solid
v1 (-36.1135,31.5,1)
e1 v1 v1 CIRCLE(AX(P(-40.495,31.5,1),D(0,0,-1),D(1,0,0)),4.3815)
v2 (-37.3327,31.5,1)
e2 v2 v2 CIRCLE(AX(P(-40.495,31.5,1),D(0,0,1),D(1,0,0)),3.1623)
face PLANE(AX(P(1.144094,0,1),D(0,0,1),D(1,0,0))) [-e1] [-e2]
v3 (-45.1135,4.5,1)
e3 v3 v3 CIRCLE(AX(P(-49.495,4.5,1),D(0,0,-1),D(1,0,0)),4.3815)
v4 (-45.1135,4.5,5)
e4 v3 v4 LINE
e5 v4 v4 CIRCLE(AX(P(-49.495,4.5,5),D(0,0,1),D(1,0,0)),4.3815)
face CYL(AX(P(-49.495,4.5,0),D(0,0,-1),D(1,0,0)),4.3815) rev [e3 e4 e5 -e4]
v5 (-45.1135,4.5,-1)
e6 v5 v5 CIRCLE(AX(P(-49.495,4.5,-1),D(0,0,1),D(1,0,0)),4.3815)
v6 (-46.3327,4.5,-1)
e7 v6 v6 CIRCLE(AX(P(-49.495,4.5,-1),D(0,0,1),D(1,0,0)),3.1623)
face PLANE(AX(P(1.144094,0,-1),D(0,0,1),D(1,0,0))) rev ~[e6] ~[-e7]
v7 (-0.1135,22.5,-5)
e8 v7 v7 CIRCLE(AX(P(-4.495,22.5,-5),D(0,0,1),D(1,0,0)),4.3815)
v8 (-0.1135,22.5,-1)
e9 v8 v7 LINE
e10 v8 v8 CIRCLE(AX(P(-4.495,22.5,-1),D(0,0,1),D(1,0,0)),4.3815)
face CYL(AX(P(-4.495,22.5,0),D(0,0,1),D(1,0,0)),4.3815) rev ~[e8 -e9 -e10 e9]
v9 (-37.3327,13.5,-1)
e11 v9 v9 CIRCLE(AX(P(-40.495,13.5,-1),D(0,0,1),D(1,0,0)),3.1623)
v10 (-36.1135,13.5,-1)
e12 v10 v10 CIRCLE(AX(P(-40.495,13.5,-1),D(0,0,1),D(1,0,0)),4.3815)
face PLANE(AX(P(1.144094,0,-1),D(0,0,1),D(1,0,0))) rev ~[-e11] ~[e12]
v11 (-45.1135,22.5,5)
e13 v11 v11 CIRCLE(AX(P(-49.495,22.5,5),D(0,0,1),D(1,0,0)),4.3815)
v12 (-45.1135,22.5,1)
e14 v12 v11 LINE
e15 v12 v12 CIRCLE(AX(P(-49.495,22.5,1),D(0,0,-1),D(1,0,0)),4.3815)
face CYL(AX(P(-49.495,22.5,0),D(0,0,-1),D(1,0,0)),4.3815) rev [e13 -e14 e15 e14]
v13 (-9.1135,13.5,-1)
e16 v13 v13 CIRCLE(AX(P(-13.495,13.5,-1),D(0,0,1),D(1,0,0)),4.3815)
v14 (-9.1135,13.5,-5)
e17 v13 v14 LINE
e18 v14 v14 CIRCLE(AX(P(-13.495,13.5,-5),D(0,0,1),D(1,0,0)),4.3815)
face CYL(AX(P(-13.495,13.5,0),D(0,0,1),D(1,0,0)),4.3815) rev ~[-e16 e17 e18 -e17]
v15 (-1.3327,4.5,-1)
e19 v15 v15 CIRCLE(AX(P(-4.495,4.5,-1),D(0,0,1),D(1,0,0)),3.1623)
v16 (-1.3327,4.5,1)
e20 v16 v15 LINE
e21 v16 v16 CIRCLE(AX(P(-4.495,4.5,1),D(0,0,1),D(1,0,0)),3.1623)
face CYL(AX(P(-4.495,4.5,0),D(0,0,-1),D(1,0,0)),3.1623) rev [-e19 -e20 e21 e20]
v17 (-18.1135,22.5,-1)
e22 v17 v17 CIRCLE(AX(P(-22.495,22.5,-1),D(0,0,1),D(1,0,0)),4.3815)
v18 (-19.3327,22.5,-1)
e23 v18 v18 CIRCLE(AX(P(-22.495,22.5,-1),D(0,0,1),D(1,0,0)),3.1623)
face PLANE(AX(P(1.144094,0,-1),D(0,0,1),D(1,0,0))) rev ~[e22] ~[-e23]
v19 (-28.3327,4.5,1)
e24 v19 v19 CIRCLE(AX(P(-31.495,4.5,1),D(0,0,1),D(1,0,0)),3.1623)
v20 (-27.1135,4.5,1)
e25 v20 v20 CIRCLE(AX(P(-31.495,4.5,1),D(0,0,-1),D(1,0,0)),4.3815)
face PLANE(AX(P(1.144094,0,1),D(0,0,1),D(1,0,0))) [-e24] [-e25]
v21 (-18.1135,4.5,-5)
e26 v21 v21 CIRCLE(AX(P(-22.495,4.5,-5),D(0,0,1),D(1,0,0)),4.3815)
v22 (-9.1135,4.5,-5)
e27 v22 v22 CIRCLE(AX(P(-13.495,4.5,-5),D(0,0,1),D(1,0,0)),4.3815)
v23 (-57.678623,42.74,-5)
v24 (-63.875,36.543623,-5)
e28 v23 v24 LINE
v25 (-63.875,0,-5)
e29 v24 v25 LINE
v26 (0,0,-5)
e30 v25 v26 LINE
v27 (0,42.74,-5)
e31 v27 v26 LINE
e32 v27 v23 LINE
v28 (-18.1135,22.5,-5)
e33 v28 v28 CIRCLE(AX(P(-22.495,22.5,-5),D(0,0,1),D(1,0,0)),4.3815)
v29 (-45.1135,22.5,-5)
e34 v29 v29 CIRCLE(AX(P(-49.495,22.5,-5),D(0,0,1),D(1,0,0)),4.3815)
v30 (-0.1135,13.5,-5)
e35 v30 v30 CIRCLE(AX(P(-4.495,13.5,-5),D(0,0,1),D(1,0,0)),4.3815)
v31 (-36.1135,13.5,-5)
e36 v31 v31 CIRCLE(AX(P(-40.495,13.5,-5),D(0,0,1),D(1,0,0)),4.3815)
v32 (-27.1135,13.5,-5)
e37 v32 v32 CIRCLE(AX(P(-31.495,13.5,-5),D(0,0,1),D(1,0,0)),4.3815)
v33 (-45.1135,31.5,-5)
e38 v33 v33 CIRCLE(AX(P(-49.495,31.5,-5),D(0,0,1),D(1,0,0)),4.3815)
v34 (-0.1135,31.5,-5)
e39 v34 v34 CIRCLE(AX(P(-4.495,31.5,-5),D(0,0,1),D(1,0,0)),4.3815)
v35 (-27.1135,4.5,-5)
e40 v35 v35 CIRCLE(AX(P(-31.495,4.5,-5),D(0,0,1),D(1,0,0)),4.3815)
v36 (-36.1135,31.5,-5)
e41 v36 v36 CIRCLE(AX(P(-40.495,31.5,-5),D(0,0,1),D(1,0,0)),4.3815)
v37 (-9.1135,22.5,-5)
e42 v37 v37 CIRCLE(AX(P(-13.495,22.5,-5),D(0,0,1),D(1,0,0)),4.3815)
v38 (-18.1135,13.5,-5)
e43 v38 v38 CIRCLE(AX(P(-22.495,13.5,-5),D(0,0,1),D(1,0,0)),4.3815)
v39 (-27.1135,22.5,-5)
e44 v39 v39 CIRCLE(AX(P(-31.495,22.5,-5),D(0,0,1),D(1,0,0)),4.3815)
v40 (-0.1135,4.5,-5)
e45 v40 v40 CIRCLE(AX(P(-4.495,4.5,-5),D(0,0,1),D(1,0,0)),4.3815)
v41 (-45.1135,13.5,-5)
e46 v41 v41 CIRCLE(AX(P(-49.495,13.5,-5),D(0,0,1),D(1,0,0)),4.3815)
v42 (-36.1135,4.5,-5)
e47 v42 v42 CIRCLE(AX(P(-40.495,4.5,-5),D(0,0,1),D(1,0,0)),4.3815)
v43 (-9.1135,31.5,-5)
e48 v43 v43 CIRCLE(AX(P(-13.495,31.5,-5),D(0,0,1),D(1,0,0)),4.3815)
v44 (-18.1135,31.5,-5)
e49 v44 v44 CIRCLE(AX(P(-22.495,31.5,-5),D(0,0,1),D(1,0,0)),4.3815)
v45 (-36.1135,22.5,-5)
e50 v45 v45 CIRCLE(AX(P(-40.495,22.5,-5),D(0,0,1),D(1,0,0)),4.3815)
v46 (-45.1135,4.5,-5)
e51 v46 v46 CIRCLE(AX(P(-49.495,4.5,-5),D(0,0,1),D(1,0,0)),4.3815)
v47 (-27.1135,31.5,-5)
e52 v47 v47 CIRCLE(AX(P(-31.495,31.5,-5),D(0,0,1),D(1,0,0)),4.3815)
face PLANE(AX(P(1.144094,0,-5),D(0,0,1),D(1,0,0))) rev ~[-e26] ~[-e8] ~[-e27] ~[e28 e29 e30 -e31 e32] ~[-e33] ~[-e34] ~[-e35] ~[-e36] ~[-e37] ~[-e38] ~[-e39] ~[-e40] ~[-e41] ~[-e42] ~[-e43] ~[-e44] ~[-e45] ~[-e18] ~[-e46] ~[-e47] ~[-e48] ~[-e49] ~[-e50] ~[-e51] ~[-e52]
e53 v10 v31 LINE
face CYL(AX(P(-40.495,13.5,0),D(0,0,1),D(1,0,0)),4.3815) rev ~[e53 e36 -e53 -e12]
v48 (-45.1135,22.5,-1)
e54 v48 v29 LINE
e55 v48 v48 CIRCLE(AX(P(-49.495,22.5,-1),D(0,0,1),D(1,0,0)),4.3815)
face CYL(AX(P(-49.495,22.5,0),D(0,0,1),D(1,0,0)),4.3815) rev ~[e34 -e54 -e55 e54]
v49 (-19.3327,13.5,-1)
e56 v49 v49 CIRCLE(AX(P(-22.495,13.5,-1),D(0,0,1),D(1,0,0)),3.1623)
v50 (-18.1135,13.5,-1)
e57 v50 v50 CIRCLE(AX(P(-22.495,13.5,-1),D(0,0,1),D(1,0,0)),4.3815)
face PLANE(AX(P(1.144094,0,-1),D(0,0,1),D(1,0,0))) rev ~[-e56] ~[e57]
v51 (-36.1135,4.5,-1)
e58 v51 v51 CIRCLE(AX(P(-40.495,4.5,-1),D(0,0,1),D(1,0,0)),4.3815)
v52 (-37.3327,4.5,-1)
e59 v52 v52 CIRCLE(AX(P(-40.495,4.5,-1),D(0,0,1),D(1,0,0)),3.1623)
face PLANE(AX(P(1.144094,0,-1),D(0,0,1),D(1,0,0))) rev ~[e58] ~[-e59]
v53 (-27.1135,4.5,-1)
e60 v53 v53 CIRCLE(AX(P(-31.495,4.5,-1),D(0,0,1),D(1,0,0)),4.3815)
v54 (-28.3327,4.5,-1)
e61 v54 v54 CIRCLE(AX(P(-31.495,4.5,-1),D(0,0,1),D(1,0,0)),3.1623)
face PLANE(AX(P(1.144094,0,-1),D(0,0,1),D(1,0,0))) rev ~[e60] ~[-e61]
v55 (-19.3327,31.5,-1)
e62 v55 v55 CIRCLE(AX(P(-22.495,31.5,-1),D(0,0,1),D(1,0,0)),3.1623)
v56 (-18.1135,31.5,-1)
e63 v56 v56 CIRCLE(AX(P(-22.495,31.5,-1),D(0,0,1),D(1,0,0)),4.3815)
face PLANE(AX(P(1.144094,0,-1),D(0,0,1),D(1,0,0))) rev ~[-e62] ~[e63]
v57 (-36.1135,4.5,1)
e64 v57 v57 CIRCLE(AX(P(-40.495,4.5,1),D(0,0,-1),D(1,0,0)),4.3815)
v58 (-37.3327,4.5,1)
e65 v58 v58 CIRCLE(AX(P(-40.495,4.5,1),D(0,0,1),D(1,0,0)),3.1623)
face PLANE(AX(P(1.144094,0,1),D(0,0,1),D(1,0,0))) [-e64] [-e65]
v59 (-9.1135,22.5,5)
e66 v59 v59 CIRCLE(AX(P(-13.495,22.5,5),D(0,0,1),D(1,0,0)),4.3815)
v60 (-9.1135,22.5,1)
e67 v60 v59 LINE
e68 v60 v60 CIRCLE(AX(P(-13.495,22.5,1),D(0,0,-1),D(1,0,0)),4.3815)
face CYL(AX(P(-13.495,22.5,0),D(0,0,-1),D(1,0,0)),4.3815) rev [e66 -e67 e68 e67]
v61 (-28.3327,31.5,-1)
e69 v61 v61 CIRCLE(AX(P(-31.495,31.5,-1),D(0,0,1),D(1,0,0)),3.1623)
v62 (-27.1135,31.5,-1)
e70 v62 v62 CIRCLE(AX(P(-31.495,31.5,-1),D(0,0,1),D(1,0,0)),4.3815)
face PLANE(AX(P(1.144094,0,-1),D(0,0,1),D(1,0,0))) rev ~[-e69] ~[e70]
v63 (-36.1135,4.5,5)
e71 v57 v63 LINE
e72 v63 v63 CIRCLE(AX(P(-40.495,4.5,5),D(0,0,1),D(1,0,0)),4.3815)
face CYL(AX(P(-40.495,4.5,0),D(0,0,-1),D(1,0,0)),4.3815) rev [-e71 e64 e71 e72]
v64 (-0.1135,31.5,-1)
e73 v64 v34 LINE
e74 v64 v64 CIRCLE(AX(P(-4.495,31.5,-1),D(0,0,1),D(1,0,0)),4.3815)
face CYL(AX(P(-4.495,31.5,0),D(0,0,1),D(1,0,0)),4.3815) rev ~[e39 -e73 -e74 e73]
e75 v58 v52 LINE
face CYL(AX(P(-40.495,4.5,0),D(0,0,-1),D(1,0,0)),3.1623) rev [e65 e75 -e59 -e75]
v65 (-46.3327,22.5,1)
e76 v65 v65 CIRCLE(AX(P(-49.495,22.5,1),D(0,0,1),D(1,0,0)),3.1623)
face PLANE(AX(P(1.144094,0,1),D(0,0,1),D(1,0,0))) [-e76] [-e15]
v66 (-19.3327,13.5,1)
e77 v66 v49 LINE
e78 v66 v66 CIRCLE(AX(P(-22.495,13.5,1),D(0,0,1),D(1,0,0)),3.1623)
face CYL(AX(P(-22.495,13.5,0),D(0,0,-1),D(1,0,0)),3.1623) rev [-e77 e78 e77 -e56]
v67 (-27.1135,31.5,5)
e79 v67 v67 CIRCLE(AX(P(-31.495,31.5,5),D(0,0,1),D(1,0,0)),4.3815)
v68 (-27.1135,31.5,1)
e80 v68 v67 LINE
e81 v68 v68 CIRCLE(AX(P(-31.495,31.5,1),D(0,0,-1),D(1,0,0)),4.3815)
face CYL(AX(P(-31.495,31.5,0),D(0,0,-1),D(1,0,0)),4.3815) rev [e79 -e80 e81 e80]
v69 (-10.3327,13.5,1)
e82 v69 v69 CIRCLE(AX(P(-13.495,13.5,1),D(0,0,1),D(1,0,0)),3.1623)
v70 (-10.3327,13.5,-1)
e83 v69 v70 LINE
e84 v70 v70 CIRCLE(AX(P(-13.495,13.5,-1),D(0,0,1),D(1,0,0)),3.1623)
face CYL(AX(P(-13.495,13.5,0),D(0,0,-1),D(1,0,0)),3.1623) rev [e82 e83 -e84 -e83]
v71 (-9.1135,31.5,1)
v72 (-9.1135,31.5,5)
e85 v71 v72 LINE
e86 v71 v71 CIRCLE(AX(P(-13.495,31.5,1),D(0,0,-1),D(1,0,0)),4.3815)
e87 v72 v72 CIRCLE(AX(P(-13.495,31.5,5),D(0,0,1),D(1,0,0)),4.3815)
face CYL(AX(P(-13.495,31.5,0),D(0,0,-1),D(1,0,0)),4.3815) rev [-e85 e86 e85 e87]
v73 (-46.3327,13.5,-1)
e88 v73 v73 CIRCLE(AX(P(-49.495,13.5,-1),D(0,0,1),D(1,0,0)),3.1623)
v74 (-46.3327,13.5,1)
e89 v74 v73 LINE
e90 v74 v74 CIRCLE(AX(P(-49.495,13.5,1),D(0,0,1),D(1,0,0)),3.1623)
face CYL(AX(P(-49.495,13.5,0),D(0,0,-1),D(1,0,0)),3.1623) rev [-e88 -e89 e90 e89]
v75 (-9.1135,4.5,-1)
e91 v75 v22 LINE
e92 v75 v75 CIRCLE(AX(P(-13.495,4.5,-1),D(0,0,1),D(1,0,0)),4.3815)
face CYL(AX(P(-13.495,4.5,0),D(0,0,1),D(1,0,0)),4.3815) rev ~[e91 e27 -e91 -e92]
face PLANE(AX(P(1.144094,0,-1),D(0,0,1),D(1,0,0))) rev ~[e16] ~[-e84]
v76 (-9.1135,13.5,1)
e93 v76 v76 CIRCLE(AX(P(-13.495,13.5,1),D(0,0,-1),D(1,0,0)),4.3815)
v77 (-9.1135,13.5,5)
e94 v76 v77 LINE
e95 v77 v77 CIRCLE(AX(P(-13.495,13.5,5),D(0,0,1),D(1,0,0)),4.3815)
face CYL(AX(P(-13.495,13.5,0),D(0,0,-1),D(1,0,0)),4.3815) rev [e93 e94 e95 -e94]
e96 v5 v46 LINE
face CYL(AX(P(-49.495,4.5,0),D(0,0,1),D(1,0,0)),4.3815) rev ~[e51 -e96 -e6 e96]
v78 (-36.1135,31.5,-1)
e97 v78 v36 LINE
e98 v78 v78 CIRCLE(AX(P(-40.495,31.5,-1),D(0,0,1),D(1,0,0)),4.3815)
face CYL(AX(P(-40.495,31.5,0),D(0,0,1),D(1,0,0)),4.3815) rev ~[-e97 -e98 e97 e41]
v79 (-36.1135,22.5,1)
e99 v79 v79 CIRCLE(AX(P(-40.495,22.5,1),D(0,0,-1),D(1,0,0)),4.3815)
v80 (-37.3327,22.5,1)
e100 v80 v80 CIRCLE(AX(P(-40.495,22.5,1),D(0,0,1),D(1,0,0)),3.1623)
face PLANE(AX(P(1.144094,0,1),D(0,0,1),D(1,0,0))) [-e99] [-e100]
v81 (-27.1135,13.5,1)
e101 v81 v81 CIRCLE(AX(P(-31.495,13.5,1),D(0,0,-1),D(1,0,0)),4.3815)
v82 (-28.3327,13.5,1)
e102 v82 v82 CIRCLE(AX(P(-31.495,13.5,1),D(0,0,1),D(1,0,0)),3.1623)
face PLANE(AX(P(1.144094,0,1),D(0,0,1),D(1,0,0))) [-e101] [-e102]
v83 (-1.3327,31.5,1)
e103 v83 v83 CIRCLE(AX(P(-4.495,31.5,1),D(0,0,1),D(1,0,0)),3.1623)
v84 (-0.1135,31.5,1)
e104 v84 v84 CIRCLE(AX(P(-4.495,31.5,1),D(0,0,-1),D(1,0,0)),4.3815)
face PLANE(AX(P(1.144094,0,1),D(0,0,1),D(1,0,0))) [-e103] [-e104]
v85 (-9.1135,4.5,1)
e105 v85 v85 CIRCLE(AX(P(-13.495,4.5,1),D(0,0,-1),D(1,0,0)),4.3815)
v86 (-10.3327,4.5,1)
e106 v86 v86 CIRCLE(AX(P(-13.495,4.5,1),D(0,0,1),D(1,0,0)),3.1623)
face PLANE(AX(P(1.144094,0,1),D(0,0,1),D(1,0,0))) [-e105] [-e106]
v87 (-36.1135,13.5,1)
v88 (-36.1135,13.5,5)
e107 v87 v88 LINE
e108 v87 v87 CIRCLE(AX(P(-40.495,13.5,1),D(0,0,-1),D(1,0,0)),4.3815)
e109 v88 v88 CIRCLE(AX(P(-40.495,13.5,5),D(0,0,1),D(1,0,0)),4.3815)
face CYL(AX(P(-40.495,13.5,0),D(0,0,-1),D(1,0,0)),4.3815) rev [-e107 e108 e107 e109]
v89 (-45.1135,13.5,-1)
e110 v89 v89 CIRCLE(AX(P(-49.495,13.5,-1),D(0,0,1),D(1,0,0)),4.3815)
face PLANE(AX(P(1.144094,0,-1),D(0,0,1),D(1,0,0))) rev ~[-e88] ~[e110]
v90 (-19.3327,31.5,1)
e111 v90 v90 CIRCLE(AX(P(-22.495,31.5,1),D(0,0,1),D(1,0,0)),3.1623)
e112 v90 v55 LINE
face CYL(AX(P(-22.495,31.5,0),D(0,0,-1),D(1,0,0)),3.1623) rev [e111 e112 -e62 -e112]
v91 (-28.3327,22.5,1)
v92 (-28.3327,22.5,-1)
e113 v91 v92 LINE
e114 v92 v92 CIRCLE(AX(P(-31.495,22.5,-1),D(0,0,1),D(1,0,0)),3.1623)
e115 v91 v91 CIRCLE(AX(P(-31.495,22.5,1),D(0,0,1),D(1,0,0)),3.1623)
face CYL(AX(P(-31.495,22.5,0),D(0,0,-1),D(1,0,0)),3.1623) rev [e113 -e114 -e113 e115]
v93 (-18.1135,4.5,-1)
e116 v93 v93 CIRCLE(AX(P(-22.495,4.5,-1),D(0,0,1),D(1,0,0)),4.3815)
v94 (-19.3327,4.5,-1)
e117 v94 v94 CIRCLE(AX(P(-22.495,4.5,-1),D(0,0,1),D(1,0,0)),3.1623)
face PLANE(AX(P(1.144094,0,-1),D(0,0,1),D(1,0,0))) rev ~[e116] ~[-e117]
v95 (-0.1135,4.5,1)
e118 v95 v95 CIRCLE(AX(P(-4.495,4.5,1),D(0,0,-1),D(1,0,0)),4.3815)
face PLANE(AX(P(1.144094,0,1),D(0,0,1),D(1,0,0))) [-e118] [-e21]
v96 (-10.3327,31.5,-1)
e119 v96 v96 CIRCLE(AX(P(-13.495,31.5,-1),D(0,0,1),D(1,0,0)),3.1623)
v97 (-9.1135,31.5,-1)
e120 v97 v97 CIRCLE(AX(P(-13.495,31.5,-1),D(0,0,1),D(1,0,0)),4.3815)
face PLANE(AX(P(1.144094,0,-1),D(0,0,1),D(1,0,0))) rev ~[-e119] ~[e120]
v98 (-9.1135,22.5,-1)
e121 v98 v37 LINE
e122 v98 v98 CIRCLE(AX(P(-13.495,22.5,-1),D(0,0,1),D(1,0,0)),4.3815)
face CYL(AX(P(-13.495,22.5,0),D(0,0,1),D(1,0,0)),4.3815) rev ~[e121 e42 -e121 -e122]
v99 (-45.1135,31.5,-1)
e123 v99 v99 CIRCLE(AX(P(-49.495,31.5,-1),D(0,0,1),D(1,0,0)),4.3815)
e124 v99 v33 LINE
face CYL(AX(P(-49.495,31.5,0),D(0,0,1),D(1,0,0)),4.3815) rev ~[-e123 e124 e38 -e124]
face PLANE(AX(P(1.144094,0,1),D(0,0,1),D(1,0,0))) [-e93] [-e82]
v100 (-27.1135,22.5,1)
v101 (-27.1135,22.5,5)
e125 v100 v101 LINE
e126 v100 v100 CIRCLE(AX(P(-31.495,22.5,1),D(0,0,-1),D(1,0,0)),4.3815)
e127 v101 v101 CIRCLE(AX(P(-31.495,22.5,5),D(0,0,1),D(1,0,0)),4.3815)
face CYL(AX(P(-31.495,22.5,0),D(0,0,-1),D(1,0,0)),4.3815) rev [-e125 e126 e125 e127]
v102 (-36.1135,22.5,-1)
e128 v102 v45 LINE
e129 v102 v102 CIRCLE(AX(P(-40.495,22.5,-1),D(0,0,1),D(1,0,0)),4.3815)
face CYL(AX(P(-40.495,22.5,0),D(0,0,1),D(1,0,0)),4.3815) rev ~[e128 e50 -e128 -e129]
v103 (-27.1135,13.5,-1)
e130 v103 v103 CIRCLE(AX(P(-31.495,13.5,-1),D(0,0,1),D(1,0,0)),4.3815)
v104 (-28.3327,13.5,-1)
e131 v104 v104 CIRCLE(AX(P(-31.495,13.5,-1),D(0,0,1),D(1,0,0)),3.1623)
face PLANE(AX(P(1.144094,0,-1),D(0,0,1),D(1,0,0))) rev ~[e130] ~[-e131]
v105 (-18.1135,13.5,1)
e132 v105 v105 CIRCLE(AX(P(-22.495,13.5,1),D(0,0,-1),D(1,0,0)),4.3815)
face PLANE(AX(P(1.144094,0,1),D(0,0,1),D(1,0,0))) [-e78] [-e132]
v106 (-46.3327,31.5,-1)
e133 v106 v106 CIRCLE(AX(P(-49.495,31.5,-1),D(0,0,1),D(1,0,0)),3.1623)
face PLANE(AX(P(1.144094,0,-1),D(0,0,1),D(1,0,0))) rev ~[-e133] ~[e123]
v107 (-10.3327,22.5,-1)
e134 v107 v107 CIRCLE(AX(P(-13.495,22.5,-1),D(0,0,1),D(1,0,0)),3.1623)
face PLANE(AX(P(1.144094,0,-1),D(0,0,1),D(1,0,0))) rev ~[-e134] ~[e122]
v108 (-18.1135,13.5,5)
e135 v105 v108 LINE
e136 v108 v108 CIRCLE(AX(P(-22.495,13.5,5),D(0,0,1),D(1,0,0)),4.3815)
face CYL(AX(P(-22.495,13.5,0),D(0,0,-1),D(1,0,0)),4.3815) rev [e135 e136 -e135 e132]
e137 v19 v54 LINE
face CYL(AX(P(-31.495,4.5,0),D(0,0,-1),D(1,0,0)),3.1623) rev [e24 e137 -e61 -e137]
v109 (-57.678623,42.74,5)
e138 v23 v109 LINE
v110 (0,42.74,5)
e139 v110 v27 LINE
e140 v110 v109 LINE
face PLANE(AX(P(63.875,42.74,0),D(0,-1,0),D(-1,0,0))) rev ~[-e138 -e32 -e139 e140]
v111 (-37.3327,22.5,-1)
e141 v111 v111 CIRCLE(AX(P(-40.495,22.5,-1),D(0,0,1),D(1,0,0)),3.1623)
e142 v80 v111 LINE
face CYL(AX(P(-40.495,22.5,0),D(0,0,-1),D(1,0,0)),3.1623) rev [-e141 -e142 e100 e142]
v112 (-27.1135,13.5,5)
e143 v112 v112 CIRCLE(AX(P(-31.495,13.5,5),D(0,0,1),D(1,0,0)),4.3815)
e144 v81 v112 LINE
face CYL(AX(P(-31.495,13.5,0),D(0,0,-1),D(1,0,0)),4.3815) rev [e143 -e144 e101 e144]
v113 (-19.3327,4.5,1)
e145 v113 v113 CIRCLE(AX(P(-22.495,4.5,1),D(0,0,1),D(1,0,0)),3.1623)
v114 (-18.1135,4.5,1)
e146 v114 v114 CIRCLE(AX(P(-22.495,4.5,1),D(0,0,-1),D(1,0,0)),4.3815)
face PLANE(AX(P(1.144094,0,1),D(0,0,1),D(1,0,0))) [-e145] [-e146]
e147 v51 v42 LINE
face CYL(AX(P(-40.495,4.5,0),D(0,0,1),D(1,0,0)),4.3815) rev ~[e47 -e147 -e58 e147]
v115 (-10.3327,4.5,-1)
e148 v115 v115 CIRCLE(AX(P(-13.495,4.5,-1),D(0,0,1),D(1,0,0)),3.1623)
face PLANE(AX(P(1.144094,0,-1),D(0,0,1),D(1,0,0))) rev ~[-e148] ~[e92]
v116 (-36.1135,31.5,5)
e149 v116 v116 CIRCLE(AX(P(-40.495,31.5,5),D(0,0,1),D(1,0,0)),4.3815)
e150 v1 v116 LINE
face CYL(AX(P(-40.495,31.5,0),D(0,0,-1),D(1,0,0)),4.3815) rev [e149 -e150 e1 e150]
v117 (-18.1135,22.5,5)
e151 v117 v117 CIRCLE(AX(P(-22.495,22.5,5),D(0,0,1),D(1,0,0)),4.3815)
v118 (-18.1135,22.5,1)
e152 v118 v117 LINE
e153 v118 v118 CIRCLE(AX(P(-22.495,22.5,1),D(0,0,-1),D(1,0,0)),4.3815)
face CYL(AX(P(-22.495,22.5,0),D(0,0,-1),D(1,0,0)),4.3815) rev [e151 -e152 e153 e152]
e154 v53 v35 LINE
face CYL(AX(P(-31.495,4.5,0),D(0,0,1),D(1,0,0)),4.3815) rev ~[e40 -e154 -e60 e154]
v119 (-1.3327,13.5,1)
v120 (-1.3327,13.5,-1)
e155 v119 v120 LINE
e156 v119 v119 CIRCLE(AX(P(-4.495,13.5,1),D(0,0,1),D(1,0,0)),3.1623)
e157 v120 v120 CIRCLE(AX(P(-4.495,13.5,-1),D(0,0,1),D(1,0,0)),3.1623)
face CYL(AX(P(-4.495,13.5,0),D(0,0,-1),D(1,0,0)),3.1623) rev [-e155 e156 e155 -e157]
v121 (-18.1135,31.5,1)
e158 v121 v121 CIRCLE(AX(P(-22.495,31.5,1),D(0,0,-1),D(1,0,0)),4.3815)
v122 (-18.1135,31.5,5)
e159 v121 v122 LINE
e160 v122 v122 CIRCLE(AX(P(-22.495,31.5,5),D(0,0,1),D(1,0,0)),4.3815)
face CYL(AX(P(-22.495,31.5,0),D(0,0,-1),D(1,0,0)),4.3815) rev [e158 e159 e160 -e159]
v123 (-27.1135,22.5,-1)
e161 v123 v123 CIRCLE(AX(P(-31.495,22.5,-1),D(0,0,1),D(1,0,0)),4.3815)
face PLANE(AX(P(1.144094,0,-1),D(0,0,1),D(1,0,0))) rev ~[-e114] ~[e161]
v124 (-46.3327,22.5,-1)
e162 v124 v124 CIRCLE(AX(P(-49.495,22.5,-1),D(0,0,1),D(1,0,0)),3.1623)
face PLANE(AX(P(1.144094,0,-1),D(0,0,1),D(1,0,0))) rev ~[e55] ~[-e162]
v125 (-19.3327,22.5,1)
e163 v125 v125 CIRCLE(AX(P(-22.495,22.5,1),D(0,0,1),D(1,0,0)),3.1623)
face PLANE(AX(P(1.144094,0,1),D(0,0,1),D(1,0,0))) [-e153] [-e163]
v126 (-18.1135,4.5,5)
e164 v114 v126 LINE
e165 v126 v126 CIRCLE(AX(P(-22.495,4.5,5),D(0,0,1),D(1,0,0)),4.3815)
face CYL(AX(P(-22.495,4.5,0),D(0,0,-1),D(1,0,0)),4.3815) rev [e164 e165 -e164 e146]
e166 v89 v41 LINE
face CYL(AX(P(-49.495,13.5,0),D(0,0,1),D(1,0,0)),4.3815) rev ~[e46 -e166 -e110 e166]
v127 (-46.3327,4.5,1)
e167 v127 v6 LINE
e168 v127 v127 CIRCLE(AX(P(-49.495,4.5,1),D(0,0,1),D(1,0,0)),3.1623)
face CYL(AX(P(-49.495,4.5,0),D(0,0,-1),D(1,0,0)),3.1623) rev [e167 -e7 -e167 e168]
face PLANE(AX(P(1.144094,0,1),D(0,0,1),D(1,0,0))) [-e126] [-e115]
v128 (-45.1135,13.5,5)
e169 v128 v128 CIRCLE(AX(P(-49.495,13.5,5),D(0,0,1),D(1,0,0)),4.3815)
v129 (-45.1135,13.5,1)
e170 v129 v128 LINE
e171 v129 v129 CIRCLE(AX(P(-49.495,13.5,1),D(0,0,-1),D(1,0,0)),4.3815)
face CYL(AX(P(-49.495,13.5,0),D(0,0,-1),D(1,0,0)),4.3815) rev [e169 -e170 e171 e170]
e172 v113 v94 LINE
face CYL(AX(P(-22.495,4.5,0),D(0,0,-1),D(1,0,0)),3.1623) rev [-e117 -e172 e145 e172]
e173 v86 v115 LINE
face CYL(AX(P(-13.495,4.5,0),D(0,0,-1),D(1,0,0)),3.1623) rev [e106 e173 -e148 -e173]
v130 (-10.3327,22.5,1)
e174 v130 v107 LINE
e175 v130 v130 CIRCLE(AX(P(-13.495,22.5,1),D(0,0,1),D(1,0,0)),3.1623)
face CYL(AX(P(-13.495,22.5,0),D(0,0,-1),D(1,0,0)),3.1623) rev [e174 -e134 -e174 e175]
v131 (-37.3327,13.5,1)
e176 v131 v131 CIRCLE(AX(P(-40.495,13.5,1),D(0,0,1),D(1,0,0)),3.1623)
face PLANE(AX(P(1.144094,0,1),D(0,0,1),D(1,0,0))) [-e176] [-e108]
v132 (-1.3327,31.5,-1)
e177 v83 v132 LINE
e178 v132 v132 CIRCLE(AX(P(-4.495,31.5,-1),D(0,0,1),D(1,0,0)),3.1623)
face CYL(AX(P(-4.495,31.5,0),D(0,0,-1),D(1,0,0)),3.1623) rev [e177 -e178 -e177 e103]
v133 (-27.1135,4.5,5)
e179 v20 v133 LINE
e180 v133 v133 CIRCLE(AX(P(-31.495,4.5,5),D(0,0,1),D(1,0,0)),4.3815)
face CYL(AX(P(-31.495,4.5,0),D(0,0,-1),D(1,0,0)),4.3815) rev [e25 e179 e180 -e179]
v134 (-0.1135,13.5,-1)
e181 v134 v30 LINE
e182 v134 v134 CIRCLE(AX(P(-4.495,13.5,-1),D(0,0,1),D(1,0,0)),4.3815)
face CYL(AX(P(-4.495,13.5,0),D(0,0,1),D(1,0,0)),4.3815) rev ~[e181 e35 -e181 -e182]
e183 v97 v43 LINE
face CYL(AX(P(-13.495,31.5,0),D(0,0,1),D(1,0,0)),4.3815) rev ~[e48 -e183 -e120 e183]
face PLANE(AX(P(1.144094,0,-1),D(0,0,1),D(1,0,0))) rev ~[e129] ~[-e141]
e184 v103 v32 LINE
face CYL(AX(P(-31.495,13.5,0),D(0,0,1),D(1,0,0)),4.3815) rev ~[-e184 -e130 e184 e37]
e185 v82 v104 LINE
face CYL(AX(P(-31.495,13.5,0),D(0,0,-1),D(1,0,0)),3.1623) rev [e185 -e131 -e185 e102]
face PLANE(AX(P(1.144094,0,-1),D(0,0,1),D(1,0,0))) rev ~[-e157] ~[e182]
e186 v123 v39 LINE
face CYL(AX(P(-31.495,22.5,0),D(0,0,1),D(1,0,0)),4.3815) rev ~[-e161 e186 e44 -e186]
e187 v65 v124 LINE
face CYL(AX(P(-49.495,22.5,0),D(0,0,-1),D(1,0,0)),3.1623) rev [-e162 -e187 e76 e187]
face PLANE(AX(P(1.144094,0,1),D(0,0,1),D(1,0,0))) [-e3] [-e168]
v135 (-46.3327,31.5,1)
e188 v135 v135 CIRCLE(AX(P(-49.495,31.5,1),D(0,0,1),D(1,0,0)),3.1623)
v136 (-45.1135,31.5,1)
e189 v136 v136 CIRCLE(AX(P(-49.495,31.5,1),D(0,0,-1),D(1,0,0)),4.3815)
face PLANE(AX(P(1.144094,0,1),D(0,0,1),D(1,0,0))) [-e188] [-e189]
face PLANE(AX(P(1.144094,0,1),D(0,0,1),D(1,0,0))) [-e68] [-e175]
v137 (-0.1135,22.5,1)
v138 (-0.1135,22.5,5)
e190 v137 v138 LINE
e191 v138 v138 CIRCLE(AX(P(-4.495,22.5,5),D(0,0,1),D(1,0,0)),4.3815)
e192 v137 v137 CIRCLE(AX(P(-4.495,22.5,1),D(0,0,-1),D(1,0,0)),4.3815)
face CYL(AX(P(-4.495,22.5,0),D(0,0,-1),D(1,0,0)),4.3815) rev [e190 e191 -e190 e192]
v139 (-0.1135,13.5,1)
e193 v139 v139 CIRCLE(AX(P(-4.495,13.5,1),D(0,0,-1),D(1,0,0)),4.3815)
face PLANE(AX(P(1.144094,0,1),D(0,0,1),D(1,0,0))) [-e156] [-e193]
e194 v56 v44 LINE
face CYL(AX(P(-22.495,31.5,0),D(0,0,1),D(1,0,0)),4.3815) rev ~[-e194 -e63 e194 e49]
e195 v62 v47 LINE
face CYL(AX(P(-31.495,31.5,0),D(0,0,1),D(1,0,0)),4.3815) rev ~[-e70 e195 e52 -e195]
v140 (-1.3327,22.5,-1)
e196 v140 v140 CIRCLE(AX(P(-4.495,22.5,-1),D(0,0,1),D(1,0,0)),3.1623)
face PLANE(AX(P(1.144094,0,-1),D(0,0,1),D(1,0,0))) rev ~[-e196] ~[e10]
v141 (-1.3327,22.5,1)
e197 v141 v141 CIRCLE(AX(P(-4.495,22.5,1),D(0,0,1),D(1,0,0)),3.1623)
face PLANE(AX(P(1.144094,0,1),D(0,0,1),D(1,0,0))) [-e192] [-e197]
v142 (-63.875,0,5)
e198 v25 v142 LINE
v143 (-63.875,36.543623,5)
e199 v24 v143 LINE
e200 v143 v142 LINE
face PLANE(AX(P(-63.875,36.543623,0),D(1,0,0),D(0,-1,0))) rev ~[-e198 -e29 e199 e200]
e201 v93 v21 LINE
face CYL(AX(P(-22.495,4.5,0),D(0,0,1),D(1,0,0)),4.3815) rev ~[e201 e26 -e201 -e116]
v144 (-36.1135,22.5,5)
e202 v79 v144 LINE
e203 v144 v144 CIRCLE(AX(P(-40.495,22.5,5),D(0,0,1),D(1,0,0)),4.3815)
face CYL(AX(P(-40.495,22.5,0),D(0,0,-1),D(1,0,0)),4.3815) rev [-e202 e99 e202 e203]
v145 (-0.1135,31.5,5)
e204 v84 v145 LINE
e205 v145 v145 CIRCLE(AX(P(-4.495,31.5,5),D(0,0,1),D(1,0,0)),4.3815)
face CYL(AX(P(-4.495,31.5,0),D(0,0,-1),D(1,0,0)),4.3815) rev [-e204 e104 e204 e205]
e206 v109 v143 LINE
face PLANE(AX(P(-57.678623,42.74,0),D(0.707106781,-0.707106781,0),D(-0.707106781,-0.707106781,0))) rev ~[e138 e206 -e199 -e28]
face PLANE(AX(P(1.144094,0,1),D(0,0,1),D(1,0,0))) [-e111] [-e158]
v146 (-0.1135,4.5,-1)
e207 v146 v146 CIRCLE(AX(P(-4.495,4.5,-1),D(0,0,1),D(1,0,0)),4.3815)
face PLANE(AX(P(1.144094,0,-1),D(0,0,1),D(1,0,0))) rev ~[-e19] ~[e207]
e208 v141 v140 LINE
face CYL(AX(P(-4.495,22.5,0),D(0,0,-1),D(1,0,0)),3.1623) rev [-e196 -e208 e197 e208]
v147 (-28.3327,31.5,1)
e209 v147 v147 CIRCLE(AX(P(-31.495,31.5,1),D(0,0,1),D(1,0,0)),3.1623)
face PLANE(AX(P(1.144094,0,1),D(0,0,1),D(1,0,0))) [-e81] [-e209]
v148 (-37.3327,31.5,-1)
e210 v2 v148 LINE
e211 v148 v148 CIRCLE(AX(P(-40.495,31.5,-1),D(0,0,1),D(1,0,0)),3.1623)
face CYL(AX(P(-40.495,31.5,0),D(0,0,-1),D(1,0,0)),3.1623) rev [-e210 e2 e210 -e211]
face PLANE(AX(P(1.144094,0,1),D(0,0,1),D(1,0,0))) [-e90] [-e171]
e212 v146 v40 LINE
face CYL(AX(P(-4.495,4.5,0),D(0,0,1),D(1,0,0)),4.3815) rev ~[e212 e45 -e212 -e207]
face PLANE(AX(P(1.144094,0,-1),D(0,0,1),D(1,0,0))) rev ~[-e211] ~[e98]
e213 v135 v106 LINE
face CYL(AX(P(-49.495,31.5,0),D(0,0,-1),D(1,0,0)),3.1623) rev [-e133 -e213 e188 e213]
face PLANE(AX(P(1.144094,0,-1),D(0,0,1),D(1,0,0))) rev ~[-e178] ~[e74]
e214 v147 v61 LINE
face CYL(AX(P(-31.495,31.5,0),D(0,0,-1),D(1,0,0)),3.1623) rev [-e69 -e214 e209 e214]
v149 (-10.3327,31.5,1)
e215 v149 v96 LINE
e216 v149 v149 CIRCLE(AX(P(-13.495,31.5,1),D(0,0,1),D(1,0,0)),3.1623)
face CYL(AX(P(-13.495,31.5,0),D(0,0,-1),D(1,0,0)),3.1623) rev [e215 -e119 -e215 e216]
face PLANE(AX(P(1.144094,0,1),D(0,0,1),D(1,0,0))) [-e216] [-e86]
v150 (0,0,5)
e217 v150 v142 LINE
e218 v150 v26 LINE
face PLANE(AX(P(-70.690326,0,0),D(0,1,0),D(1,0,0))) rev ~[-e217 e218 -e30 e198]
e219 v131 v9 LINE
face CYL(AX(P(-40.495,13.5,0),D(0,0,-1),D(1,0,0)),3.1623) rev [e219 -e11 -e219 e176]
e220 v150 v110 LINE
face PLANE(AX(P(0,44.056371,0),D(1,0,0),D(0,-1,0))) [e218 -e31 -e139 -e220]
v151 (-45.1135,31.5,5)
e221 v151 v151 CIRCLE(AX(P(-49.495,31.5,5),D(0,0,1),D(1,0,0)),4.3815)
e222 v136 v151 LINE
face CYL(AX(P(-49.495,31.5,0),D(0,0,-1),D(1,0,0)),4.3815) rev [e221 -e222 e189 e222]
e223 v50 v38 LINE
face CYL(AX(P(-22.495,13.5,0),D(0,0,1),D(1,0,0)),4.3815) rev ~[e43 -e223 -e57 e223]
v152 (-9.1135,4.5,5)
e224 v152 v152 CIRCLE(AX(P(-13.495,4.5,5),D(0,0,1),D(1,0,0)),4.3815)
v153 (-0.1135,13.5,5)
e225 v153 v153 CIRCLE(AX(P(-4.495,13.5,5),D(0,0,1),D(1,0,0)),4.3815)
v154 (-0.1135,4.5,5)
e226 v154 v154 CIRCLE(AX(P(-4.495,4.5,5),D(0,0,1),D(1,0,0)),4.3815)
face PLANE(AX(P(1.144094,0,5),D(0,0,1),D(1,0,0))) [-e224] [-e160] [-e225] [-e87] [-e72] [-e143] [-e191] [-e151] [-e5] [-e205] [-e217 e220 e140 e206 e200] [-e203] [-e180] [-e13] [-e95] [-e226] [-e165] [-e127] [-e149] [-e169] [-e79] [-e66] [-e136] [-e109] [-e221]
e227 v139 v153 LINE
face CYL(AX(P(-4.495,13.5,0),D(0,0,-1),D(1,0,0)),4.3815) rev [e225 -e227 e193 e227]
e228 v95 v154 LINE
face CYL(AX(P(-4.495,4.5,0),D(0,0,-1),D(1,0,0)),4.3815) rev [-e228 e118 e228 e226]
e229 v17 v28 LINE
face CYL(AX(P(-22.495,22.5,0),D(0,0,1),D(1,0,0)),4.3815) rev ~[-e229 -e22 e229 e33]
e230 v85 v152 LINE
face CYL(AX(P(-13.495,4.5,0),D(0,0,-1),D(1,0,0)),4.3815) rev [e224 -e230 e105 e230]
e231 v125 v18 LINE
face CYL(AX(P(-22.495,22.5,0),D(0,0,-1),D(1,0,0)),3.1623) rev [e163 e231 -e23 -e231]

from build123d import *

# Parameters (mm, degrees)
F0_R          = 3.1623
F1_DEPTH      = 1
F1_DEPTH_BACK = 1
F2_R          = 4.3815
F3_DEPTH      = 5
F3_DEPTH_BACK = 5
F4_W          = 70.6903263927
F4_H          = 43.5684286058
F5_DEPTH      = 25.4
F5_DEPTH_BACK = 25.4


with BuildPart() as f1:
    # F0 (on Top) → F1 (new body, two sides)
    with BuildSketch(Plane.XY) as f1_sk:
        Polygon((-57.6786232765, 42.74), (-63.875, 36.5436232765), (-63.875, -36.5436232765), (-57.6786232765, -42.74), (63.875, -42.74), (63.875, 42.74), align=None)
        with Locations((-49.495, -31.5)):
            Circle(F0_R, mode=Mode.SUBTRACT)
        with Locations((-49.495, -22.5)):
            Circle(F0_R, mode=Mode.SUBTRACT)
        with Locations((-40.495, -31.5)):
            Circle(F0_R, mode=Mode.SUBTRACT)
        with Locations((-40.495, -22.5)):
            Circle(F0_R, mode=Mode.SUBTRACT)
        with Locations((-31.495, -31.5)):
            Circle(F0_R, mode=Mode.SUBTRACT)
        with Locations((-22.495, -31.5)):
            Circle(F0_R, mode=Mode.SUBTRACT)
        with Locations((-31.495, -22.5)):
            Circle(F0_R, mode=Mode.SUBTRACT)
        with Locations((-22.495, -22.5)):
            Circle(F0_R, mode=Mode.SUBTRACT)
        with Locations((-13.495, -31.5)):
            Circle(F0_R, mode=Mode.SUBTRACT)
        with Locations((-4.495, -31.5)):
            Circle(F0_R, mode=Mode.SUBTRACT)
        with Locations((-13.495, -22.5)):
            Circle(F0_R, mode=Mode.SUBTRACT)
        with Locations((-4.495, -22.5)):
            Circle(F0_R, mode=Mode.SUBTRACT)
        with Locations((-49.495, -13.5)):
            Circle(F0_R, mode=Mode.SUBTRACT)
        with Locations((-40.495, -13.5)):
            Circle(F0_R, mode=Mode.SUBTRACT)
        with Locations((-49.495, -4.5)):
            Circle(F0_R, mode=Mode.SUBTRACT)
        with Locations((-40.495, -4.5)):
            Circle(F0_R, mode=Mode.SUBTRACT)
        with Locations((-31.495, -13.5)):
            Circle(F0_R, mode=Mode.SUBTRACT)
        with Locations((-22.495, -13.5)):
            Circle(F0_R, mode=Mode.SUBTRACT)
        with Locations((-13.495, -13.5)):
            Circle(F0_R, mode=Mode.SUBTRACT)
        with Locations((-4.495, -13.5)):
            Circle(F0_R, mode=Mode.SUBTRACT)
        with Locations((-31.495, -4.5)):
            Circle(F0_R, mode=Mode.SUBTRACT)
        with Locations((-22.495, -4.5)):
            Circle(F0_R, mode=Mode.SUBTRACT)
        with Locations((-13.495, -4.5)):
            Circle(F0_R, mode=Mode.SUBTRACT)
        with Locations((-4.495, -4.5)):
            Circle(F0_R, mode=Mode.SUBTRACT)
        with Locations((4.505, -31.5)):
            Circle(F0_R, mode=Mode.SUBTRACT)
        with Locations((13.505, -31.5)):
            Circle(F0_R, mode=Mode.SUBTRACT)
        with Locations((4.505, -22.5)):
            Circle(F0_R, mode=Mode.SUBTRACT)
        with Locations((13.505, -22.5)):
            Circle(F0_R, mode=Mode.SUBTRACT)
        with Locations((22.505, -31.5)):
            Circle(F0_R, mode=Mode.SUBTRACT)
        with Locations((31.505, -31.5)):
            Circle(F0_R, mode=Mode.SUBTRACT)
        with Locations((22.505, -22.5)):
            Circle(F0_R, mode=Mode.SUBTRACT)
        with Locations((31.505, -22.5)):
            Circle(F0_R, mode=Mode.SUBTRACT)
        with Locations((40.505, -31.5)):
            Circle(F0_R, mode=Mode.SUBTRACT)
        with Locations((40.505, -22.5)):
            Circle(F0_R, mode=Mode.SUBTRACT)
        with Locations((49.505, -31.5)):
            Circle(F0_R, mode=Mode.SUBTRACT)
        with Locations((49.505, -22.5)):
            Circle(F0_R, mode=Mode.SUBTRACT)
        with Locations((4.505, -13.5)):
            Circle(F0_R, mode=Mode.SUBTRACT)
        with Locations((13.505, -13.5)):
            Circle(F0_R, mode=Mode.SUBTRACT)
        with Locations((22.505, -13.5)):
            Circle(F0_R, mode=Mode.SUBTRACT)
        with Locations((31.505, -13.5)):
            Circle(F0_R, mode=Mode.SUBTRACT)
        with Locations((4.505, -4.5)):
            Circle(F0_R, mode=Mode.SUBTRACT)
        with Locations((13.505, -4.5)):
            Circle(F0_R, mode=Mode.SUBTRACT)
        with Locations((22.505, -4.5)):
            Circle(F0_R, mode=Mode.SUBTRACT)
        with Locations((31.505, -4.5)):
            Circle(F0_R, mode=Mode.SUBTRACT)
        with Locations((40.505, -13.5)):
            Circle(F0_R, mode=Mode.SUBTRACT)
        with Locations((49.505, -13.5)):
            Circle(F0_R, mode=Mode.SUBTRACT)
        with Locations((40.505, -4.5)):
            Circle(F0_R, mode=Mode.SUBTRACT)
        with Locations((49.505, -4.5)):
            Circle(F0_R, mode=Mode.SUBTRACT)
        with Locations((-49.495, 4.5)):
            Circle(F0_R, mode=Mode.SUBTRACT)
        with Locations((-40.495, 4.5)):
            Circle(F0_R, mode=Mode.SUBTRACT)
        with Locations((-49.495, 13.5)):
            Circle(F0_R, mode=Mode.SUBTRACT)
        with Locations((-40.495, 13.5)):
            Circle(F0_R, mode=Mode.SUBTRACT)
        with Locations((-31.495, 4.5)):
            Circle(F0_R, mode=Mode.SUBTRACT)
        with Locations((-22.495, 4.5)):
            Circle(F0_R, mode=Mode.SUBTRACT)
        with Locations((-13.495, 4.5)):
            Circle(F0_R, mode=Mode.SUBTRACT)
        with Locations((-4.495, 4.5)):
            Circle(F0_R, mode=Mode.SUBTRACT)
        with Locations((-31.495, 13.5)):
            Circle(F0_R, mode=Mode.SUBTRACT)
        with Locations((-22.495, 13.5)):
            Circle(F0_R, mode=Mode.SUBTRACT)
        with Locations((-13.495, 13.5)):
            Circle(F0_R, mode=Mode.SUBTRACT)
        with Locations((-4.495, 13.5)):
            Circle(F0_R, mode=Mode.SUBTRACT)
        with Locations((-49.495, 22.5)):
            Circle(F0_R, mode=Mode.SUBTRACT)
        with Locations((-49.495, 31.5)):
            Circle(F0_R, mode=Mode.SUBTRACT)
        with Locations((-40.495, 22.5)):
            Circle(F0_R, mode=Mode.SUBTRACT)
        with Locations((-40.495, 31.5)):
            Circle(F0_R, mode=Mode.SUBTRACT)
        with Locations((-31.495, 22.5)):
            Circle(F0_R, mode=Mode.SUBTRACT)
        with Locations((-22.495, 22.5)):
            Circle(F0_R, mode=Mode.SUBTRACT)
        with Locations((-31.495, 31.5)):
            Circle(F0_R, mode=Mode.SUBTRACT)
        with Locations((-22.495, 31.5)):
            Circle(F0_R, mode=Mode.SUBTRACT)
        with Locations((-13.495, 22.5)):
            Circle(F0_R, mode=Mode.SUBTRACT)
        with Locations((-4.495, 22.5)):
            Circle(F0_R, mode=Mode.SUBTRACT)
        with Locations((-13.495, 31.5)):
            Circle(F0_R, mode=Mode.SUBTRACT)
        with Locations((-4.495, 31.5)):
            Circle(F0_R, mode=Mode.SUBTRACT)
        with Locations((4.505, 4.5)):
            Circle(F0_R, mode=Mode.SUBTRACT)
        with Locations((13.505, 4.5)):
            Circle(F0_R, mode=Mode.SUBTRACT)
        with Locations((22.505, 4.5)):
            Circle(F0_R, mode=Mode.SUBTRACT)
        with Locations((31.505, 4.5)):
            Circle(F0_R, mode=Mode.SUBTRACT)
        with Locations((4.505, 13.5)):
            Circle(F0_R, mode=Mode.SUBTRACT)
        with Locations((13.505, 13.5)):
            Circle(F0_R, mode=Mode.SUBTRACT)
        with Locations((22.505, 13.5)):
            Circle(F0_R, mode=Mode.SUBTRACT)
        with Locations((31.505, 13.5)):
            Circle(F0_R, mode=Mode.SUBTRACT)
        with Locations((40.505, 4.5)):
            Circle(F0_R, mode=Mode.SUBTRACT)
        with Locations((49.505, 4.5)):
            Circle(F0_R, mode=Mode.SUBTRACT)
        with Locations((40.505, 13.5)):
            Circle(F0_R, mode=Mode.SUBTRACT)
        with Locations((49.505, 13.5)):
            Circle(F0_R, mode=Mode.SUBTRACT)
        with Locations((4.505, 22.5)):
            Circle(F0_R, mode=Mode.SUBTRACT)
        with Locations((13.505, 22.5)):
            Circle(F0_R, mode=Mode.SUBTRACT)
        with Locations((4.505, 31.5)):
            Circle(F0_R, mode=Mode.SUBTRACT)
        with Locations((13.505, 31.5)):
            Circle(F0_R, mode=Mode.SUBTRACT)
        with Locations((22.505, 22.5)):
            Circle(F0_R, mode=Mode.SUBTRACT)
        with Locations((31.505, 22.5)):
            Circle(F0_R, mode=Mode.SUBTRACT)
        with Locations((22.505, 31.5)):
            Circle(F0_R, mode=Mode.SUBTRACT)
        with Locations((31.505, 31.5)):
            Circle(F0_R, mode=Mode.SUBTRACT)
        with Locations((40.505, 22.5)):
            Circle(F0_R, mode=Mode.SUBTRACT)
        with Locations((40.505, 31.5)):
            Circle(F0_R, mode=Mode.SUBTRACT)
        with Locations((49.505, 22.5)):
            Circle(F0_R, mode=Mode.SUBTRACT)
        with Locations((49.505, 31.5)):
            Circle(F0_R, mode=Mode.SUBTRACT)
    extrude(amount=F1_DEPTH)
    extrude(f1_sk.sketch, amount=-F1_DEPTH_BACK)

    # F2 (on Top) → F3 (join, two sides)
    with BuildSketch(Plane.XY) as f3_sk:
        Polygon((63.875, -42.74), (63.875, 42.74), (-57.6786232765, 42.74), (-63.875, 36.5436232765), (-63.875, -36.5436232765), (-57.6786232765, -42.74), align=None)
        with Locations((-49.495, -31.5)):
            Circle(F2_R, mode=Mode.SUBTRACT)
        with Locations((-49.495, -22.5)):
            Circle(F2_R, mode=Mode.SUBTRACT)
        with Locations((-40.495, -31.5)):
            Circle(F2_R, mode=Mode.SUBTRACT)
        with Locations((-40.495, -22.5)):
            Circle(F2_R, mode=Mode.SUBTRACT)
        with Locations((-31.495, -31.5)):
            Circle(F2_R, mode=Mode.SUBTRACT)
        with Locations((-22.495, -31.5)):
            Circle(F2_R, mode=Mode.SUBTRACT)
        with Locations((-31.495, -22.5)):
            Circle(F2_R, mode=Mode.SUBTRACT)
        with Locations((-22.495, -22.5)):
            Circle(F2_R, mode=Mode.SUBTRACT)
        with Locations((-13.495, -31.5)):
            Circle(F2_R, mode=Mode.SUBTRACT)
        with Locations((-4.495, -31.5)):
            Circle(F2_R, mode=Mode.SUBTRACT)
        with Locations((-13.495, -22.5)):
            Circle(F2_R, mode=Mode.SUBTRACT)
        with Locations((-4.495, -22.5)):
            Circle(F2_R, mode=Mode.SUBTRACT)
        with Locations((-49.495, -13.5)):
            Circle(F2_R, mode=Mode.SUBTRACT)
        with Locations((-40.495, -13.5)):
            Circle(F2_R, mode=Mode.SUBTRACT)
        with Locations((-49.495, -4.5)):
            Circle(F2_R, mode=Mode.SUBTRACT)
        with Locations((-40.495, -4.5)):
            Circle(F2_R, mode=Mode.SUBTRACT)
        with Locations((-31.495, -13.5)):
            Circle(F2_R, mode=Mode.SUBTRACT)
        with Locations((-22.495, -13.5)):
            Circle(F2_R, mode=Mode.SUBTRACT)
        with Locations((-13.495, -13.5)):
            Circle(F2_R, mode=Mode.SUBTRACT)
        with Locations((-4.495, -13.5)):
            Circle(F2_R, mode=Mode.SUBTRACT)
        with Locations((-31.495, -4.5)):
            Circle(F2_R, mode=Mode.SUBTRACT)
        with Locations((-22.495, -4.5)):
            Circle(F2_R, mode=Mode.SUBTRACT)
        with Locations((-13.495, -4.5)):
            Circle(F2_R, mode=Mode.SUBTRACT)
        with Locations((-4.495, -4.5)):
            Circle(F2_R, mode=Mode.SUBTRACT)
        with Locations((4.505, -31.5)):
            Circle(F2_R, mode=Mode.SUBTRACT)
        with Locations((13.505, -31.5)):
            Circle(F2_R, mode=Mode.SUBTRACT)
        with Locations((4.505, -22.5)):
            Circle(F2_R, mode=Mode.SUBTRACT)
        with Locations((13.505, -22.5)):
            Circle(F2_R, mode=Mode.SUBTRACT)
        with Locations((22.505, -31.5)):
            Circle(F2_R, mode=Mode.SUBTRACT)
        with Locations((31.505, -31.5)):
            Circle(F2_R, mode=Mode.SUBTRACT)
        with Locations((22.505, -22.5)):
            Circle(F2_R, mode=Mode.SUBTRACT)
        with Locations((31.505, -22.5)):
            Circle(F2_R, mode=Mode.SUBTRACT)
        with Locations((40.505, -31.5)):
            Circle(F2_R, mode=Mode.SUBTRACT)
        with Locations((40.505, -22.5)):
            Circle(F2_R, mode=Mode.SUBTRACT)
        with Locations((49.505, -31.5)):
            Circle(F2_R, mode=Mode.SUBTRACT)
        with Locations((49.505, -22.5)):
            Circle(F2_R, mode=Mode.SUBTRACT)
        with Locations((4.505, -13.5)):
            Circle(F2_R, mode=Mode.SUBTRACT)
        with Locations((13.505, -13.5)):
            Circle(F2_R, mode=Mode.SUBTRACT)
        with Locations((22.505, -13.5)):
            Circle(F2_R, mode=Mode.SUBTRACT)
        with Locations((31.505, -13.5)):
            Circle(F2_R, mode=Mode.SUBTRACT)
        with Locations((4.505, -4.5)):
            Circle(F2_R, mode=Mode.SUBTRACT)
        with Locations((13.505, -4.5)):
            Circle(F2_R, mode=Mode.SUBTRACT)
        with Locations((22.505, -4.5)):
            Circle(F2_R, mode=Mode.SUBTRACT)
        with Locations((31.505, -4.5)):
            Circle(F2_R, mode=Mode.SUBTRACT)
        with Locations((40.505, -13.5)):
            Circle(F2_R, mode=Mode.SUBTRACT)
        with Locations((49.505, -13.5)):
            Circle(F2_R, mode=Mode.SUBTRACT)
        with Locations((40.505, -4.5)):
            Circle(F2_R, mode=Mode.SUBTRACT)
        with Locations((49.505, -4.5)):
            Circle(F2_R, mode=Mode.SUBTRACT)
        with Locations((-49.495, 4.5)):
            Circle(F2_R, mode=Mode.SUBTRACT)
        with Locations((-40.495, 4.5)):
            Circle(F2_R, mode=Mode.SUBTRACT)
        with Locations((-49.495, 13.5)):
            Circle(F2_R, mode=Mode.SUBTRACT)
        with Locations((-40.495, 13.5)):
            Circle(F2_R, mode=Mode.SUBTRACT)
        with Locations((-31.495, 4.5)):
            Circle(F2_R, mode=Mode.SUBTRACT)
        with Locations((-22.495, 4.5)):
            Circle(F2_R, mode=Mode.SUBTRACT)
        with Locations((-13.495, 4.5)):
            Circle(F2_R, mode=Mode.SUBTRACT)
        with Locations((-4.495, 4.5)):
            Circle(F2_R, mode=Mode.SUBTRACT)
        with Locations((-31.495, 13.5)):
            Circle(F2_R, mode=Mode.SUBTRACT)
        with Locations((-22.495, 13.5)):
            Circle(F2_R, mode=Mode.SUBTRACT)
        with Locations((-13.495, 13.5)):
            Circle(F2_R, mode=Mode.SUBTRACT)
        with Locations((-4.495, 13.5)):
            Circle(F2_R, mode=Mode.SUBTRACT)
        with Locations((-49.495, 22.5)):
            Circle(F2_R, mode=Mode.SUBTRACT)
        with Locations((-49.495, 31.5)):
            Circle(F2_R, mode=Mode.SUBTRACT)
        with Locations((-40.495, 22.5)):
            Circle(F2_R, mode=Mode.SUBTRACT)
        with Locations((-40.495, 31.5)):
            Circle(F2_R, mode=Mode.SUBTRACT)
        with Locations((-31.495, 22.5)):
            Circle(F2_R, mode=Mode.SUBTRACT)
        with Locations((-22.495, 22.5)):
            Circle(F2_R, mode=Mode.SUBTRACT)
        with Locations((-31.495, 31.5)):
            Circle(F2_R, mode=Mode.SUBTRACT)
        with Locations((-22.495, 31.5)):
            Circle(F2_R, mode=Mode.SUBTRACT)
        with Locations((-13.495, 22.5)):
            Circle(F2_R, mode=Mode.SUBTRACT)
        with Locations((-4.495, 22.5)):
            Circle(F2_R, mode=Mode.SUBTRACT)
        with Locations((-13.495, 31.5)):
            Circle(F2_R, mode=Mode.SUBTRACT)
        with Locations((-4.495, 31.5)):
            Circle(F2_R, mode=Mode.SUBTRACT)
        with Locations((4.505, 4.5)):
            Circle(F2_R, mode=Mode.SUBTRACT)
        with Locations((13.505, 4.5)):
            Circle(F2_R, mode=Mode.SUBTRACT)
        with Locations((22.505, 4.5)):
            Circle(F2_R, mode=Mode.SUBTRACT)
        with Locations((31.505, 4.5)):
            Circle(F2_R, mode=Mode.SUBTRACT)
        with Locations((4.505, 13.5)):
            Circle(F2_R, mode=Mode.SUBTRACT)
        with Locations((13.505, 13.5)):
            Circle(F2_R, mode=Mode.SUBTRACT)
        with Locations((22.505, 13.5)):
            Circle(F2_R, mode=Mode.SUBTRACT)
        with Locations((31.505, 13.5)):
            Circle(F2_R, mode=Mode.SUBTRACT)
        with Locations((40.505, 4.5)):
            Circle(F2_R, mode=Mode.SUBTRACT)
        with Locations((49.505, 4.5)):
            Circle(F2_R, mode=Mode.SUBTRACT)
        with Locations((40.505, 13.5)):
            Circle(F2_R, mode=Mode.SUBTRACT)
        with Locations((49.505, 13.5)):
            Circle(F2_R, mode=Mode.SUBTRACT)
        with Locations((4.505, 22.5)):
            Circle(F2_R, mode=Mode.SUBTRACT)
        with Locations((13.505, 22.5)):
            Circle(F2_R, mode=Mode.SUBTRACT)
        with Locations((4.505, 31.5)):
            Circle(F2_R, mode=Mode.SUBTRACT)
        with Locations((13.505, 31.5)):
            Circle(F2_R, mode=Mode.SUBTRACT)
        with Locations((22.505, 22.5)):
            Circle(F2_R, mode=Mode.SUBTRACT)
        with Locations((31.505, 22.5)):
            Circle(F2_R, mode=Mode.SUBTRACT)
        with Locations((22.505, 31.5)):
            Circle(F2_R, mode=Mode.SUBTRACT)
        with Locations((31.505, 31.5)):
            Circle(F2_R, mode=Mode.SUBTRACT)
        with Locations((40.505, 22.5)):
            Circle(F2_R, mode=Mode.SUBTRACT)
        with Locations((40.505, 31.5)):
            Circle(F2_R, mode=Mode.SUBTRACT)
        with Locations((49.505, 22.5)):
            Circle(F2_R, mode=Mode.SUBTRACT)
        with Locations((49.505, 31.5)):
            Circle(F2_R, mode=Mode.SUBTRACT)
    extrude(amount=F3_DEPTH)
    extrude(f3_sk.sketch, amount=-F3_DEPTH_BACK)

    # F4 (on Top) → F5 (cut, two sides)
    with BuildSketch(Plane.XY) as f5_sk:
        with Locations((-35.3451631963, -21.7842143029)):
            Rectangle(F4_W, F4_H)
        Polygon((0, 44.0563708544), (0, 0), (0, -43.5684286058), (65.9060776234, -43.5684286058), (65.9060776234, 44.0563708544), align=None)
    extrude(amount=-F5_DEPTH, mode=Mode.SUBTRACT)
    extrude(f5_sk.sketch, amount=F5_DEPTH_BACK, mode=Mode.SUBTRACT)


solid = f1.part
